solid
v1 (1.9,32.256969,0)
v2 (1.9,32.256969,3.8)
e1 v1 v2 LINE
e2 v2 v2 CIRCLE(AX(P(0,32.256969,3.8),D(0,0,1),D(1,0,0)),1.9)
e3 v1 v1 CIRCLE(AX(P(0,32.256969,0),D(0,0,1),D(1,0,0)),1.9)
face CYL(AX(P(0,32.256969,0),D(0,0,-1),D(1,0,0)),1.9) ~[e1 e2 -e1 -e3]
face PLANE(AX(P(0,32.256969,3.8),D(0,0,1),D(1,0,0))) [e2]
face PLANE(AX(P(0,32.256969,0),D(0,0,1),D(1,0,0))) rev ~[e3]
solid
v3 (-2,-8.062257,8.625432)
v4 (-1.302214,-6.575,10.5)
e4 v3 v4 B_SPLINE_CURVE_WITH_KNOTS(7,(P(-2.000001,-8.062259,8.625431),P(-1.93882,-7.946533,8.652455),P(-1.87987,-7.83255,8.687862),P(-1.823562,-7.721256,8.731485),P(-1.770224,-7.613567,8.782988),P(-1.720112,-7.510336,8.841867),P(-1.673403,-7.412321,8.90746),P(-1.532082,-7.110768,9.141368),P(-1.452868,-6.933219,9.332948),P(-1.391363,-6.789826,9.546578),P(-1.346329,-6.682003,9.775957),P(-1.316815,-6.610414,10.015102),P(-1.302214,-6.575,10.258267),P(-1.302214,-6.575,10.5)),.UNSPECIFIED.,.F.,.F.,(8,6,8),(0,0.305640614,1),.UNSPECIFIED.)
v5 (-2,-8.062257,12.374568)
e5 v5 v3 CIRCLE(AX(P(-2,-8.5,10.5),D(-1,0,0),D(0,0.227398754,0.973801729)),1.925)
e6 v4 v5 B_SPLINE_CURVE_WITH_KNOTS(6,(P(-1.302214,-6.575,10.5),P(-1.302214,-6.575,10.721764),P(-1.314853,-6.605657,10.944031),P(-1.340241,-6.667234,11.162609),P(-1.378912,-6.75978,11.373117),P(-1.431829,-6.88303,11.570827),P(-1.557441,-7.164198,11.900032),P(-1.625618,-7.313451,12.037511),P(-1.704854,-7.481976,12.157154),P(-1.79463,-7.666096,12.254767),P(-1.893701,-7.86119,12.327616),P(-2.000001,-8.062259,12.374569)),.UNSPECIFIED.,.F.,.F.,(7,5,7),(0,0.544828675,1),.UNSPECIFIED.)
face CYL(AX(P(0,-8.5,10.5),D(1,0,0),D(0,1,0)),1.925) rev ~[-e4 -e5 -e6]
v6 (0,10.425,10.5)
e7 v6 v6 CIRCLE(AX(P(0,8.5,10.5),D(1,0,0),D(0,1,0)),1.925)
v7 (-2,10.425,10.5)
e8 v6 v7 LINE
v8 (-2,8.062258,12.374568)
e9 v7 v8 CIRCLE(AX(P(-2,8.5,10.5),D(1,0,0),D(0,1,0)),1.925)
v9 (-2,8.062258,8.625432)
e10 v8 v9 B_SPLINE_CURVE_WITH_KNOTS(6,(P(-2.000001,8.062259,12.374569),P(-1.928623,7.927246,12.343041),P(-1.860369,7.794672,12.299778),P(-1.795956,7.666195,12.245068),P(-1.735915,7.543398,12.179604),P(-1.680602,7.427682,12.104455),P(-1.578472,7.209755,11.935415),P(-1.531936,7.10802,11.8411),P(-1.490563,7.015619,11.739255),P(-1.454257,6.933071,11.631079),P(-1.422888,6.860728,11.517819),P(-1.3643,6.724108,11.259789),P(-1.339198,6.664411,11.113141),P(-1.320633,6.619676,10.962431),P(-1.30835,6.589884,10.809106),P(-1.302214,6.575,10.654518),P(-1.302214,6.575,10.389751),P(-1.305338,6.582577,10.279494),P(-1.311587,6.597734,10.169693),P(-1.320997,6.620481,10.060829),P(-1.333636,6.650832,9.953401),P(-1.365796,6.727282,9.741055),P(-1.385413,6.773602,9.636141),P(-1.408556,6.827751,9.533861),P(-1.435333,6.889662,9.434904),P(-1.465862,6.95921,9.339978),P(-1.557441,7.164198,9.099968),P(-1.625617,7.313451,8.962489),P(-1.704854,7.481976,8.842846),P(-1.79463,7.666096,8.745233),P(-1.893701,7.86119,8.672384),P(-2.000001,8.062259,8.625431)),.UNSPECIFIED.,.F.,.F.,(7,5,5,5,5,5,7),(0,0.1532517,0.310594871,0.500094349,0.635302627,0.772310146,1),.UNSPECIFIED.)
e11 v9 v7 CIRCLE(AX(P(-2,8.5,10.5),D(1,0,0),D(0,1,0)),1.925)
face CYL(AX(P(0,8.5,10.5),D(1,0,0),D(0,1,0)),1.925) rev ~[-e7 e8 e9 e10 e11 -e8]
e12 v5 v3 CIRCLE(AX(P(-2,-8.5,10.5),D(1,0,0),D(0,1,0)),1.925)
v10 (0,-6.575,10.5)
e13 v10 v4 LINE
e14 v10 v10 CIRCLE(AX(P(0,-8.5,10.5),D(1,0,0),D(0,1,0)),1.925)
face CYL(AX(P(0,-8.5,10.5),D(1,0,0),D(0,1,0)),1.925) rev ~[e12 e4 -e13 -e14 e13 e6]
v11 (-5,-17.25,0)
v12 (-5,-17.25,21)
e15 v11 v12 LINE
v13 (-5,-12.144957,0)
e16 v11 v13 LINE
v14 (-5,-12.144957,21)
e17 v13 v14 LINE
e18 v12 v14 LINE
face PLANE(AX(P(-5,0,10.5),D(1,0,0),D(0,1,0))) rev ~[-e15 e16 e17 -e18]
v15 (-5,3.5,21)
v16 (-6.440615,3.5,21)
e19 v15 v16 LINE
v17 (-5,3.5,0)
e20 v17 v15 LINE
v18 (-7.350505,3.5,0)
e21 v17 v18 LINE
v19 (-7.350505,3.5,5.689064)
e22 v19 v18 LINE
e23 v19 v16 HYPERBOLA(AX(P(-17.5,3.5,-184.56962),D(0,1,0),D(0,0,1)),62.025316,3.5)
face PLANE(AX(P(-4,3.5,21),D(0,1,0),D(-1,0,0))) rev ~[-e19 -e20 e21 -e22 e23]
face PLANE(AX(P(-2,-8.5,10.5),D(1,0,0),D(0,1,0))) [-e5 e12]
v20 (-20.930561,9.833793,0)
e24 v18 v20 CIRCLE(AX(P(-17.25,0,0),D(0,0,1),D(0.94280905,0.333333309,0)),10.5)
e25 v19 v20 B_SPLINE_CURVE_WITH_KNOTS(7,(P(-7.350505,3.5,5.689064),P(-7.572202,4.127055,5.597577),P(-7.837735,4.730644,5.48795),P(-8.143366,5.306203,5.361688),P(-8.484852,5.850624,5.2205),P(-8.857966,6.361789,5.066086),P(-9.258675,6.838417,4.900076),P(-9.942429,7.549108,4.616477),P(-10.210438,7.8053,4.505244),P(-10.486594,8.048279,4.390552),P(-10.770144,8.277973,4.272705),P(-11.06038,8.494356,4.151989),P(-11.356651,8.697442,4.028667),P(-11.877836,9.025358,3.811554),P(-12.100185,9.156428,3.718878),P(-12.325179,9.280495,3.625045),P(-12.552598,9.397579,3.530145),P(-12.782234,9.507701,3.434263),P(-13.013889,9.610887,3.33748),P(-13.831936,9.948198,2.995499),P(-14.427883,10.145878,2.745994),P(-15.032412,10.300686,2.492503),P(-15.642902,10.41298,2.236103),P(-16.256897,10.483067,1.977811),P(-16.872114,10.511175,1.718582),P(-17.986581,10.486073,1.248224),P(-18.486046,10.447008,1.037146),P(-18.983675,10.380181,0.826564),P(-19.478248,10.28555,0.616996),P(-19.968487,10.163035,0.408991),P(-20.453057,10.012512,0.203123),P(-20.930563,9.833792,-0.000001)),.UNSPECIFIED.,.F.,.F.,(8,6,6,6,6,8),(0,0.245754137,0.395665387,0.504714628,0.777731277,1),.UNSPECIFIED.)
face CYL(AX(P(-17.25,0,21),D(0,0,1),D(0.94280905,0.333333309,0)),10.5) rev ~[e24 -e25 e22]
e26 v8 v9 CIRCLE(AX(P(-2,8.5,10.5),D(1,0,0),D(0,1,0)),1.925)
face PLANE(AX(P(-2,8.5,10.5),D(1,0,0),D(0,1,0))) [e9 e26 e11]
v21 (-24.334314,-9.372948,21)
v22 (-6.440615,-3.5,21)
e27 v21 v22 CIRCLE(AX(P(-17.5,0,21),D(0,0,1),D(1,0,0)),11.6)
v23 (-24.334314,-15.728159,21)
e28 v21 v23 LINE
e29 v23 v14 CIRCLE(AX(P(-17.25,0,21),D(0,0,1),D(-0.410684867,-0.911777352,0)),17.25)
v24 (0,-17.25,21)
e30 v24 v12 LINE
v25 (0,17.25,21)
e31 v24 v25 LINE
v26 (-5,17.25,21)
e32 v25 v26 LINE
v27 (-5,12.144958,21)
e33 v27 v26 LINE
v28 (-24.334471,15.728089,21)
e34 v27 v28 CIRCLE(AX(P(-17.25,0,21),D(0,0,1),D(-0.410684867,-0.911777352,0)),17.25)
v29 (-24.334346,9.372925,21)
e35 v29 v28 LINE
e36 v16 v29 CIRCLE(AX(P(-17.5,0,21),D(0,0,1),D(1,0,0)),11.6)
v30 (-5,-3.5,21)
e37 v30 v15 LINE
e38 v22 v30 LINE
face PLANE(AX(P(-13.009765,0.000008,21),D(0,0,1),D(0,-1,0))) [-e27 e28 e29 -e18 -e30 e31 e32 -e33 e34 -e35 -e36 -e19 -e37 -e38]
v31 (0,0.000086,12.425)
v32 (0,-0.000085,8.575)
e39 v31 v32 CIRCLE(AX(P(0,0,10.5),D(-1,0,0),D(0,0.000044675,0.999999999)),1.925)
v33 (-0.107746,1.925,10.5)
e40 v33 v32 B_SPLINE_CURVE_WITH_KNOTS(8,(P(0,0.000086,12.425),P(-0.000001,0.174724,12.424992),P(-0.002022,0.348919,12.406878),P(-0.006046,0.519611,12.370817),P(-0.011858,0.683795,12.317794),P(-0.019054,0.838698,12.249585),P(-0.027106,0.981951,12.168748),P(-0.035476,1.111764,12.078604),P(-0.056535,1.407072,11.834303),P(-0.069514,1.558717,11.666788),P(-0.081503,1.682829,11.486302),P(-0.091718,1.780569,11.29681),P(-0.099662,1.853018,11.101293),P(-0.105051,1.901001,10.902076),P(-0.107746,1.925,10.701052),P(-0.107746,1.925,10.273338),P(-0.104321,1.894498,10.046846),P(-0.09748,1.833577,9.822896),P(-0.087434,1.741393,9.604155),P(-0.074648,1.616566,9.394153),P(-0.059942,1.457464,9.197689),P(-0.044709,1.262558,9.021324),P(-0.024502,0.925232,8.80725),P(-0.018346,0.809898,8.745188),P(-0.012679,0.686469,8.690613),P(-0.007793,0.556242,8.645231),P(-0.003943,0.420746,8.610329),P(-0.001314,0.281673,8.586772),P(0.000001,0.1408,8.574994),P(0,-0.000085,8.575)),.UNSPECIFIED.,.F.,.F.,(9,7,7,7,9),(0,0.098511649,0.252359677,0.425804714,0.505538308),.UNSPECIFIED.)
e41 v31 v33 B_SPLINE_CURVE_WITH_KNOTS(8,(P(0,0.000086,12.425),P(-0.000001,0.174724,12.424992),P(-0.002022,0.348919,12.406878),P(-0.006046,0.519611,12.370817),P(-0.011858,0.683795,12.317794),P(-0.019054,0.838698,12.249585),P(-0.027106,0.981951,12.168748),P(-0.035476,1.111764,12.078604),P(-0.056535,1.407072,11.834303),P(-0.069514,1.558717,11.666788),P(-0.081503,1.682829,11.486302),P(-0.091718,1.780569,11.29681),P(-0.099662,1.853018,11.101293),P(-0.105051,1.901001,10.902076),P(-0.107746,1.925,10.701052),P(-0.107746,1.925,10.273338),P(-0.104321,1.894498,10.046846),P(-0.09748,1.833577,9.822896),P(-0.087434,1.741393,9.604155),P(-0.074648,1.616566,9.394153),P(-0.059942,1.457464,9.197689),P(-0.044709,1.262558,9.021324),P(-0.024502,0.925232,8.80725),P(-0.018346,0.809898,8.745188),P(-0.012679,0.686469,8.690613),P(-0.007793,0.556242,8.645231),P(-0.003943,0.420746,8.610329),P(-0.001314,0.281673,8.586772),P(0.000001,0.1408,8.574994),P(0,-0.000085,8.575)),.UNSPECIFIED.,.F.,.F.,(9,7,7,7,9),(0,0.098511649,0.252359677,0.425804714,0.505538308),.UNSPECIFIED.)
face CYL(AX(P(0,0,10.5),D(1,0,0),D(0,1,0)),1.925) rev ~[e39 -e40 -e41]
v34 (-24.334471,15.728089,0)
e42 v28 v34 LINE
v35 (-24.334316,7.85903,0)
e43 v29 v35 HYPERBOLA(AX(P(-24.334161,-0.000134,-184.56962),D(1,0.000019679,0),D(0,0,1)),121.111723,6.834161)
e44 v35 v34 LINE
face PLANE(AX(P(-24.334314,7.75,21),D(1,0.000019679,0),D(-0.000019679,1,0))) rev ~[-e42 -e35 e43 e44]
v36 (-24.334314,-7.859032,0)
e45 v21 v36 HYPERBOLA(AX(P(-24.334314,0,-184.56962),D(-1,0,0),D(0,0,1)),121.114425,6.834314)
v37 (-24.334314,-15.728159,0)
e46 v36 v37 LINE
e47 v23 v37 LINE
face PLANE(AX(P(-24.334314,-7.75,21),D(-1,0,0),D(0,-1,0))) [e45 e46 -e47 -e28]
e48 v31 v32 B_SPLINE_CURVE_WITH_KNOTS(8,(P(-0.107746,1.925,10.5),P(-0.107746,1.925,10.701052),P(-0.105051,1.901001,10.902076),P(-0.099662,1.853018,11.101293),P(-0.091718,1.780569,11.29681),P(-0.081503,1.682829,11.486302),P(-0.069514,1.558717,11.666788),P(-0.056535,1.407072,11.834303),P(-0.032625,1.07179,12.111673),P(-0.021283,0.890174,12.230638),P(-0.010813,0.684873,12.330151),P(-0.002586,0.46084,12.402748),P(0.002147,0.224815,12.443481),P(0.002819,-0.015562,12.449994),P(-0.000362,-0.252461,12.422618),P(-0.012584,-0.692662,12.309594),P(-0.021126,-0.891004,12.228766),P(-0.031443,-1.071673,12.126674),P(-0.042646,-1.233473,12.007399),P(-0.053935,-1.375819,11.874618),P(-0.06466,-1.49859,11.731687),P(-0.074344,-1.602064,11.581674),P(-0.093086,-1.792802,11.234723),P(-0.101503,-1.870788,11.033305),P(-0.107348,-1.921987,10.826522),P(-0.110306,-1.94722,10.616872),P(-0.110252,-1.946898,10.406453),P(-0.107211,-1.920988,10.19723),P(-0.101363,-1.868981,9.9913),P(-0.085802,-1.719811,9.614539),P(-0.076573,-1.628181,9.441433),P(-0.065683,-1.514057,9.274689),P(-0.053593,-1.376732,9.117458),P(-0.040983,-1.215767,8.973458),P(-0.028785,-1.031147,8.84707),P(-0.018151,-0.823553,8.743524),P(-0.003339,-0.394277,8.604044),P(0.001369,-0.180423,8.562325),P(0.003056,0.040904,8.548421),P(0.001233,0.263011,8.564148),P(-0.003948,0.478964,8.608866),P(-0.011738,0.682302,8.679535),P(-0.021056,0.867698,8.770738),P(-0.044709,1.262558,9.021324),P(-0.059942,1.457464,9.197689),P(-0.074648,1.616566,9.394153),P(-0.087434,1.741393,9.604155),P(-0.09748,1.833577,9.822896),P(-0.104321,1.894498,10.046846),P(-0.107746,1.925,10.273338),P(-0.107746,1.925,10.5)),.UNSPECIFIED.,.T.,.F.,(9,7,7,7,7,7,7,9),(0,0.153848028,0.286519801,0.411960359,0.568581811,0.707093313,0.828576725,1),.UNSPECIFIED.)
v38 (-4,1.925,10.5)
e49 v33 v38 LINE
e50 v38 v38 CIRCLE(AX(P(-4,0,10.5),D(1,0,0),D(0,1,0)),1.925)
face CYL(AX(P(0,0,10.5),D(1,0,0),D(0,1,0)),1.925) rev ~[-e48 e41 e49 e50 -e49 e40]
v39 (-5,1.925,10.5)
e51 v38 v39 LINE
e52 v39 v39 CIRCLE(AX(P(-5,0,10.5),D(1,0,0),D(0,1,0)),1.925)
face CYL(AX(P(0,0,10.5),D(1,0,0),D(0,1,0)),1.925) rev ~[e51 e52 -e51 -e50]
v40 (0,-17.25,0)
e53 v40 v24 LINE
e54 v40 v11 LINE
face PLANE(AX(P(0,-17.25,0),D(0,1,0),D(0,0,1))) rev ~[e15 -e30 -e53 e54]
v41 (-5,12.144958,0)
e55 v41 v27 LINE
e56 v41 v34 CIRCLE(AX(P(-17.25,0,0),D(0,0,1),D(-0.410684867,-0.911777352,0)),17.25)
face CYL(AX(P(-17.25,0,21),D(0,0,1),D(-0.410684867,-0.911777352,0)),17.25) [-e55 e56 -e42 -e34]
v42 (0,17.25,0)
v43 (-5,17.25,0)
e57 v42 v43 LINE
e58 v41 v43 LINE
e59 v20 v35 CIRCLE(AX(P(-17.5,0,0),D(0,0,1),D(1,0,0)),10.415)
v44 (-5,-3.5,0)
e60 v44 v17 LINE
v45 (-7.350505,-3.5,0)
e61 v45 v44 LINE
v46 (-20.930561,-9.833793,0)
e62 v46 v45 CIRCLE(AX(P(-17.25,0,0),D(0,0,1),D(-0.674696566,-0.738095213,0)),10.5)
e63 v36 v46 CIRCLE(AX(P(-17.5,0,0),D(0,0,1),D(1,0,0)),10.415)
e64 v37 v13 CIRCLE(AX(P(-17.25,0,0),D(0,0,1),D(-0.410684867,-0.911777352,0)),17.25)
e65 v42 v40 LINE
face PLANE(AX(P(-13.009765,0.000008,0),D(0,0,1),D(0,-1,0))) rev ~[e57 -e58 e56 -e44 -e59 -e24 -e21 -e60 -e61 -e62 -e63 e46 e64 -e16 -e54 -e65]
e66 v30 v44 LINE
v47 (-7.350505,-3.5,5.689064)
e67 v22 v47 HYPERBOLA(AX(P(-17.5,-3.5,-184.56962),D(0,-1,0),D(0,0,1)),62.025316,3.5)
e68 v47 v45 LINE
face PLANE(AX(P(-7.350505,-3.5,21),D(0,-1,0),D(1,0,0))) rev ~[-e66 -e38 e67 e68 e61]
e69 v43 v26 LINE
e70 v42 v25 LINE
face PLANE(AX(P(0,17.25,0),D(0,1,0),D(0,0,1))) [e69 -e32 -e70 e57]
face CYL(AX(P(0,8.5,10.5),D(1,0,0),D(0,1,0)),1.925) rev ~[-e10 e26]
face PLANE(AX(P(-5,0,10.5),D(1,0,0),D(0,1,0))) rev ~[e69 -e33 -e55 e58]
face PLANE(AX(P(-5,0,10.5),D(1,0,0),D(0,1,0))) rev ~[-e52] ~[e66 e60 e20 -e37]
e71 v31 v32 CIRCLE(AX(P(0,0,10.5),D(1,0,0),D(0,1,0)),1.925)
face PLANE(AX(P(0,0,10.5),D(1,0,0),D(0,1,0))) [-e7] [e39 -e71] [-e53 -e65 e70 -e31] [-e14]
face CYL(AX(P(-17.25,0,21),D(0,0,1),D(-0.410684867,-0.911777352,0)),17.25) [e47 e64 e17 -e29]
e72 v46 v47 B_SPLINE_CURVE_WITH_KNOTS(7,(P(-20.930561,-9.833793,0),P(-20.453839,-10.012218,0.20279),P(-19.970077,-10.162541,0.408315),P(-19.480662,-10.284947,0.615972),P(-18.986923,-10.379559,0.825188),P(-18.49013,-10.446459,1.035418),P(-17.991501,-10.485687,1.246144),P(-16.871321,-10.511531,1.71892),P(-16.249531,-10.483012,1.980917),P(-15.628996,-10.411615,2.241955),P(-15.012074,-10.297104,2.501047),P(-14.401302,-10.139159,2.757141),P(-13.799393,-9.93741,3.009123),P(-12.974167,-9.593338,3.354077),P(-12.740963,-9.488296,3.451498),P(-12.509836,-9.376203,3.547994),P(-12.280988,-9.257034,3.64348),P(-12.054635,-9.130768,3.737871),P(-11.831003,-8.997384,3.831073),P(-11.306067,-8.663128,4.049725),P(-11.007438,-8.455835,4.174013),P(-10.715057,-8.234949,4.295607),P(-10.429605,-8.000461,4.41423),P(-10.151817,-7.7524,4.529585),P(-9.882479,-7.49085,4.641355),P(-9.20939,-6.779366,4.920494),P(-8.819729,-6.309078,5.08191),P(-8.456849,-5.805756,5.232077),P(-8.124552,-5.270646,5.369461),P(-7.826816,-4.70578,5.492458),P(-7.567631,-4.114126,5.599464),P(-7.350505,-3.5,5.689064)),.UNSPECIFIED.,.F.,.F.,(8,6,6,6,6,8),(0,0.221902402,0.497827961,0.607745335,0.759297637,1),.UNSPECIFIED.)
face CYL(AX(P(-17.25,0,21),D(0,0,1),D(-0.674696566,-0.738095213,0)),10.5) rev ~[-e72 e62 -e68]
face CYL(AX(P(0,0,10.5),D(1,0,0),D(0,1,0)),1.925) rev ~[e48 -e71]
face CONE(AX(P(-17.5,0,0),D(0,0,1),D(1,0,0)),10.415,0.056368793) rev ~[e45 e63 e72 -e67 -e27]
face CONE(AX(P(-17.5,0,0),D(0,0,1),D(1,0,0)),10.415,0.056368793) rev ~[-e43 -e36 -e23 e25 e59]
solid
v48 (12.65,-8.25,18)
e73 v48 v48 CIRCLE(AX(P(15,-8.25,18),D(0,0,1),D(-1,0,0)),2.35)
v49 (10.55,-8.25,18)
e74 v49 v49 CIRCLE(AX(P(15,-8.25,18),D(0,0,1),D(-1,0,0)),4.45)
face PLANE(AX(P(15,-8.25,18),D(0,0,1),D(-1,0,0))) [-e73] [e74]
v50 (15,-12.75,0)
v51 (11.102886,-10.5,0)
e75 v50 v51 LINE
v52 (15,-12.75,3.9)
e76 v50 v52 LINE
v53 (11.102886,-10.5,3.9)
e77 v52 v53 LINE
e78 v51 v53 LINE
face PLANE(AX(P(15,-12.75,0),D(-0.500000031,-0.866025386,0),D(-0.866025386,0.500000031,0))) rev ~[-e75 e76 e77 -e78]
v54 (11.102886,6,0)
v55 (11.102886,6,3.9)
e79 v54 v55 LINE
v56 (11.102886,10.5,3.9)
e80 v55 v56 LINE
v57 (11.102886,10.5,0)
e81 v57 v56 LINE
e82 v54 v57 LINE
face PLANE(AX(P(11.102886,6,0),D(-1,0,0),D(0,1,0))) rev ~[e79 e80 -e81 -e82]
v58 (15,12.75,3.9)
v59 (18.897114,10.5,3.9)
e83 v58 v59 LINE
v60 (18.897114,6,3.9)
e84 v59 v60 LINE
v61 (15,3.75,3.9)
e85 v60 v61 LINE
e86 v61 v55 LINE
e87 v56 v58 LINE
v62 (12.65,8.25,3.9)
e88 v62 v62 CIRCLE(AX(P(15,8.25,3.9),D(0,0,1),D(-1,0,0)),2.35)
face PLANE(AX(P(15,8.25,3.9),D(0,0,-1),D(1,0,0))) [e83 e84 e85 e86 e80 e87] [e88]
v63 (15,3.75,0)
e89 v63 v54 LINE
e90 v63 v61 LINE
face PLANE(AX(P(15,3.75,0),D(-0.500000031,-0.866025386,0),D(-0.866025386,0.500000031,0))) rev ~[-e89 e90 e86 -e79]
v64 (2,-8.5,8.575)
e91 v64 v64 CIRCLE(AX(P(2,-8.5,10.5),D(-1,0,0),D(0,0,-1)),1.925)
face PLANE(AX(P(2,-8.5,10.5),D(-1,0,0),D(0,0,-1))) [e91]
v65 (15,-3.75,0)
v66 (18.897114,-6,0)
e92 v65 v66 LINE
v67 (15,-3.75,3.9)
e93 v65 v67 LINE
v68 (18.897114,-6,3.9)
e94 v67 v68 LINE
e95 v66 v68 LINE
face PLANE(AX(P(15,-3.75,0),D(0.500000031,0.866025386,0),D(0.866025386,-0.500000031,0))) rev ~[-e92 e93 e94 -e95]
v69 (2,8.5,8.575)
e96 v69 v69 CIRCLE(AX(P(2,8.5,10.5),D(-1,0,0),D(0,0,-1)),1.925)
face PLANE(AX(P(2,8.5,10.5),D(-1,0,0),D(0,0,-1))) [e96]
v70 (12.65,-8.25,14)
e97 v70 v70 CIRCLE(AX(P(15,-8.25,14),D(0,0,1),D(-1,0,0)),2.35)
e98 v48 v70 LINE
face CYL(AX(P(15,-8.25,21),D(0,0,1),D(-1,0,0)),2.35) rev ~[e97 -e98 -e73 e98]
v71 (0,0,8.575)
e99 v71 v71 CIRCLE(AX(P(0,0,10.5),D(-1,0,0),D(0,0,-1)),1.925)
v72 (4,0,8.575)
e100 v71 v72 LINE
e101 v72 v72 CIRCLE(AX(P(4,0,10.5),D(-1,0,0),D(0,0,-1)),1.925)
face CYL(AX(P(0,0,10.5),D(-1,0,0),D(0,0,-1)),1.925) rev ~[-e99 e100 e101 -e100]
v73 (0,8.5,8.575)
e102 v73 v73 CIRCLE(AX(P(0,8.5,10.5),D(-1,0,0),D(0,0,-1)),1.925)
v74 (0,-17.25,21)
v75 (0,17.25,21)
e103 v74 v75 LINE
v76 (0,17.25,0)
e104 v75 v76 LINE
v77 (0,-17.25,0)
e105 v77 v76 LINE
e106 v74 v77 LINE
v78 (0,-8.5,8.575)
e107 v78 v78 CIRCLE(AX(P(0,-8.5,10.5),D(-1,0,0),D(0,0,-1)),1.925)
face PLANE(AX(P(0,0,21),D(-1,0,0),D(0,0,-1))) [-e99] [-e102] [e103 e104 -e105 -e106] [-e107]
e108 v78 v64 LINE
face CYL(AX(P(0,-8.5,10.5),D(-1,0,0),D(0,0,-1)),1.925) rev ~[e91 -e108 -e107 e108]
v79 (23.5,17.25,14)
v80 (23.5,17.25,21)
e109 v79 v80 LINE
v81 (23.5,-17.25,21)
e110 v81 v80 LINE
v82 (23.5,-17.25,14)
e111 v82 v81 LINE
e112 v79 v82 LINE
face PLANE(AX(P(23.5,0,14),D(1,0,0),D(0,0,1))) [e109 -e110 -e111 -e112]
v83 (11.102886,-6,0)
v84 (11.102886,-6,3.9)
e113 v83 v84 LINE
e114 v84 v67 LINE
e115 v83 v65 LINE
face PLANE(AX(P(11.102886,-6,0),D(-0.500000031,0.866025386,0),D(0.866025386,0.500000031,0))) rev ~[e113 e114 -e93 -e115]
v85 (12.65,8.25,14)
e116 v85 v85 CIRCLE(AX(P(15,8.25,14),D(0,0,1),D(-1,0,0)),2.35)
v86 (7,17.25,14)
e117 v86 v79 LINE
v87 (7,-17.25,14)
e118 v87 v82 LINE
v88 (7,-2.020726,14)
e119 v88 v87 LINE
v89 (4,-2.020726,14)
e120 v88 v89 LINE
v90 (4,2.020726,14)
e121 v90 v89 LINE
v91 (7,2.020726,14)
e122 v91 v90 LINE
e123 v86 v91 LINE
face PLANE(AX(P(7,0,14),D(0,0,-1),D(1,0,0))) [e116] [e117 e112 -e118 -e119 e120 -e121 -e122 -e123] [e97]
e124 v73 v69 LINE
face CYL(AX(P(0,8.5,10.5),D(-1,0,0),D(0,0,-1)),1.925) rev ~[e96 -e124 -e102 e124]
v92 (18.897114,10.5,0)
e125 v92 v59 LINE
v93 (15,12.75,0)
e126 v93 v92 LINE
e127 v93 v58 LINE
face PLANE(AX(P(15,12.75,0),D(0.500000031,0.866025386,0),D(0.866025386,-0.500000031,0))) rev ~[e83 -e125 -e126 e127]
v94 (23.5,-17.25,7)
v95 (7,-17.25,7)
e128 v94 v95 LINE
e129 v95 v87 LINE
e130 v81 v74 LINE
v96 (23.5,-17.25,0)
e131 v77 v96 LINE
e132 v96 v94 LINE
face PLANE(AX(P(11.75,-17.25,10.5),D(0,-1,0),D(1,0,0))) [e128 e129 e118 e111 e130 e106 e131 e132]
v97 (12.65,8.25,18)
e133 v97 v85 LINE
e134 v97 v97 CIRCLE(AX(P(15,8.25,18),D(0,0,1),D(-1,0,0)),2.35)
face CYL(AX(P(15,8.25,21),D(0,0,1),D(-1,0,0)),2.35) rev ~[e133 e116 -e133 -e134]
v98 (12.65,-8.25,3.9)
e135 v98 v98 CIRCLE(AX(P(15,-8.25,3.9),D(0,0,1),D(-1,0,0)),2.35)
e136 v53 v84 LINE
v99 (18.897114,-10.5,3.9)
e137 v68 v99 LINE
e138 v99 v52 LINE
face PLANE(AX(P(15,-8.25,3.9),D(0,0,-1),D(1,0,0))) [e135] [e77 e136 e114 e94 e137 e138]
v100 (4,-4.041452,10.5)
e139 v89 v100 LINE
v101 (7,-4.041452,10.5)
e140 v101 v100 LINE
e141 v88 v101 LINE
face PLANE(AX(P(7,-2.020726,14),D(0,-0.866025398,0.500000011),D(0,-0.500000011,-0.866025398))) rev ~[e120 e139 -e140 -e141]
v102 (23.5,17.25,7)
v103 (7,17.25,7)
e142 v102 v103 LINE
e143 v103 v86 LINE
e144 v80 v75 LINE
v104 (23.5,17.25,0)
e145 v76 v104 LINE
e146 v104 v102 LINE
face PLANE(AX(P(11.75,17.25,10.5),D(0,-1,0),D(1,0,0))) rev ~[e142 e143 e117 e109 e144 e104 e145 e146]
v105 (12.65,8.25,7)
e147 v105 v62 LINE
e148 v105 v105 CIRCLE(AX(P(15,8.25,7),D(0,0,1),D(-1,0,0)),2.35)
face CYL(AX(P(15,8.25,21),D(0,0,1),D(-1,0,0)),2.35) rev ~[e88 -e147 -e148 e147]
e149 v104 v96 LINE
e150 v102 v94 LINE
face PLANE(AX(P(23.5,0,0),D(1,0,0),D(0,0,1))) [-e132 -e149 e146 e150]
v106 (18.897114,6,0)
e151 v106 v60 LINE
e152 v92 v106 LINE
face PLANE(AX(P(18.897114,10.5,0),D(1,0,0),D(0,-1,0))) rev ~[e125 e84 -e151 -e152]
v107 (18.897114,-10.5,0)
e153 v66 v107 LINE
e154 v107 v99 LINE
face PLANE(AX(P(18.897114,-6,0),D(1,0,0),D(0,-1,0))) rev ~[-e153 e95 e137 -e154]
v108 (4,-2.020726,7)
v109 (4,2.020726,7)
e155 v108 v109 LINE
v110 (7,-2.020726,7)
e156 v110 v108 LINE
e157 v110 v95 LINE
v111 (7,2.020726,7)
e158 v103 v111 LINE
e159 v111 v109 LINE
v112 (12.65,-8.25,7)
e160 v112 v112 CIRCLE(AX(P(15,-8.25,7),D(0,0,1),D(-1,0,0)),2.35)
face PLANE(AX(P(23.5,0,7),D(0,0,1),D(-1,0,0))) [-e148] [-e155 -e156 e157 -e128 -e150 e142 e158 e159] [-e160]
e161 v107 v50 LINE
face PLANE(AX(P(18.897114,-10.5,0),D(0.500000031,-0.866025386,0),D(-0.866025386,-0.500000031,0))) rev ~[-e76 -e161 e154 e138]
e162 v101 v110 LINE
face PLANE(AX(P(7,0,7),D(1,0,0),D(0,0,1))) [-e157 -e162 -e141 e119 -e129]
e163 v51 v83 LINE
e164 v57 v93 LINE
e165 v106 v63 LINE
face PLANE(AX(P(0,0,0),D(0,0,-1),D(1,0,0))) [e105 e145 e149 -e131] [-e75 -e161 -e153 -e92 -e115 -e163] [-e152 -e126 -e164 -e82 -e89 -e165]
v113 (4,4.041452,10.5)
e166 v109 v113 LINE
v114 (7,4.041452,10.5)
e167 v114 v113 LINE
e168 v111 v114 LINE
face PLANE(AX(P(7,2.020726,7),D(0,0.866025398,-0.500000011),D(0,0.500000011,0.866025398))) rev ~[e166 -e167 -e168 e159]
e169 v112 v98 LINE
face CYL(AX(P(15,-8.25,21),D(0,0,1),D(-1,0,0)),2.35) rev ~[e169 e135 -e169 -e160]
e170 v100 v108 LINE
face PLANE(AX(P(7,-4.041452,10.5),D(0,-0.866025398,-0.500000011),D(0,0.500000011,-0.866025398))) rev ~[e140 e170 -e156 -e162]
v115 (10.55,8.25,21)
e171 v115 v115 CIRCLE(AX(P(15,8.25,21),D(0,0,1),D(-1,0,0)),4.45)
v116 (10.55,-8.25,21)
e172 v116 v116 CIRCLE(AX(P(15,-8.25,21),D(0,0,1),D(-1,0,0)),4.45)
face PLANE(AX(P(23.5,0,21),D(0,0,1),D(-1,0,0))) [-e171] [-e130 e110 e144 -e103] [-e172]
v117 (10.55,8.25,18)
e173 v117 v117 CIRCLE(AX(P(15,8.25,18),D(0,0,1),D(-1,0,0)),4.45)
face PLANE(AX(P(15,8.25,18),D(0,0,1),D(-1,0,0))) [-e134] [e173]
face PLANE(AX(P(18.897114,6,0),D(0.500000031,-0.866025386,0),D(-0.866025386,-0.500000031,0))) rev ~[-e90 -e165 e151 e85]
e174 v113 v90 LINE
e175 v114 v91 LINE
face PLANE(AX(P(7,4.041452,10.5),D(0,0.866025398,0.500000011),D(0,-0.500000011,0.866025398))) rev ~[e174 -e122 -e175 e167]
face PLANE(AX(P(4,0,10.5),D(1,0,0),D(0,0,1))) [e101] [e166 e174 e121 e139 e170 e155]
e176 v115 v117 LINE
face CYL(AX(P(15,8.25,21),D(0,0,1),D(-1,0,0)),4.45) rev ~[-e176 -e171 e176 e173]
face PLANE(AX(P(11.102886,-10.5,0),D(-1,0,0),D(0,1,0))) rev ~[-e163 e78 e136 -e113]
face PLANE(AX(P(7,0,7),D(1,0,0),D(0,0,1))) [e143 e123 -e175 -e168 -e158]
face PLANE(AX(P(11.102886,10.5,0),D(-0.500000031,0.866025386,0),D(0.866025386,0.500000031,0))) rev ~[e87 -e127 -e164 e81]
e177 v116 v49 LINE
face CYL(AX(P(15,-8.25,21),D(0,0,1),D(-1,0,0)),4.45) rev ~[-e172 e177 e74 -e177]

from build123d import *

# Parameters (mm, degrees)
PAD_DEPTH       = 17.25
SKETCH001_R     = 2.35
POCKET_DEPTH    = 21.001
POCKET001_DEPTH = 3.9
SKETCH003_R     = 4.45
POCKET002_DEPTH = 3
SKETCH004_R     = 1.925
POCKET003_DEPTH = 23.501
POCKET004_DEPTH = 3
SKETCH006_R     = 1.925
POCKET005_DEPTH = 2
SKETCH012_R     = 1.9
PAD003_DEPTH    = 3.8
SKETCH007_W     = 34.5
SKETCH007_H     = 21
SKETCH007_R     = 1.925
PAD001_DEPTH    = 5
SKETCH008_R     = 1.925
POCKET006_DEPTH = 2
PAD002_DEPTH    = 21
SKETCH010_R     = 1.925
POCKET007_DEPTH = 2
SKETCH011_R     = 1.925
POCKET008_DEPTH = 24.335471


with BuildPart() as soporte_ducha_estanteria:
    # Sketch → Pad (new body, symmetric)
    with BuildSketch(Plane.XZ):
        Polygon((0, 0), (23.5, 0), (23.5, 7), (7, 7), (7, 14), (23.5, 14), (23.5, 21), (0, 21), align=None)
    extrude(amount=PAD_DEPTH, both=True)

    # Sketch001 → Pocket (cut, through all)
    with BuildSketch(Plane(origin=(0, 0, 21), x_dir=(-1, 0, 0), z_dir=(0, 0, 1))):
        with Locations((-15, 8.25)):
            Circle(SKETCH001_R)
        with Locations((-15, -8.25)):
            Circle(SKETCH001_R)
    extrude(amount=-POCKET_DEPTH, mode=Mode.SUBTRACT)

    # Sketch002 → Pocket001 (cut)
    with BuildSketch(Plane(origin=(0, 0, 0), x_dir=(1, 0, 0), z_dir=(0, 0, -1))):
        Polygon((15, 12.75), (11.102886, 10.5), (11.102886, 6), (15, 3.75), (18.897114, 6), (18.897114, 10.5), align=None)
        Polygon((15, -3.75), (11.102886, -6), (11.102886, -10.5), (15, -12.75), (18.897114, -10.5), (18.897114, -6), align=None)
    extrude(amount=-POCKET001_DEPTH, mode=Mode.SUBTRACT)

    # Sketch003 → Pocket002 (cut)
    with BuildSketch(Plane(origin=(0, 0, 21), x_dir=(-1, 0, 0), z_dir=(0, 0, 1))):
        with Locations((-15, 8.25)):
            Circle(SKETCH003_R)
        with Locations((-15, -8.25)):
            Circle(SKETCH003_R)
    extrude(amount=-POCKET002_DEPTH, mode=Mode.SUBTRACT)

    # Sketch004 → Pocket003 (cut, through all)
    with BuildSketch(Plane(origin=(0, 0, 0), x_dir=(0, 0, -1), z_dir=(-1, 0, 0))):
        with Locations((-10.5, 0)):
            Circle(SKETCH004_R)
    extrude(amount=-POCKET003_DEPTH, mode=Mode.SUBTRACT)

    # Sketch005 → Pocket004 (cut)
    with BuildSketch(Plane(origin=(7, 0, 0), x_dir=(0, 0, 1), z_dir=(1, 0, 0))):
        Polygon((7, 2.020726), (7, -2.020726), (10.5, -4.041452), (14, -2.020726), (14, 2.020726), (10.5, 4.041452), align=None)
    extrude(amount=-POCKET004_DEPTH, mode=Mode.SUBTRACT)

    # Sketch006 → Pocket005 (cut)
    with BuildSketch(Plane(origin=(0, 0, 0), x_dir=(0, 0, -1), z_dir=(-1, 0, 0))):
        with Locations((-10.5, -8.5)):
            Circle(SKETCH006_R)
        with Locations((-10.5, 8.5)):
            Circle(SKETCH006_R)
    extrude(amount=-POCKET005_DEPTH, mode=Mode.SUBTRACT)


with BuildPart() as pernos_union:
    # Sketch012 → Pad003 (new body)
    with BuildSketch(Plane(origin=(0, -10, 0), x_dir=(1, 0, 0), z_dir=(0, 0, 1))):
        with Locations((0, 42.256969)):
            Circle(SKETCH012_R)
    extrude(amount=PAD003_DEPTH)


with BuildPart() as cono:
    # Cone → Cone (revolve)
    with BuildSketch(Plane(origin=(-17.5, 0, 0), x_dir=(1, 0, 0), z_dir=(0, -1, 0))):
        Polygon((0, 0), (10.415, 0), (11.6, 21), (0, 21), align=None)
    revolve(axis=Axis((-17.5, 0, 0), (0, 0, 1)))


with BuildPart() as soporte_ducha_telefono_cono:
    # Sketch007 → Pad001 (new body)
    with BuildSketch(Plane.YZ):
        with Locations((0, 10.5)):
            Rectangle(SKETCH007_W, SKETCH007_H)
        with Locations((0, 10.5)):
            Circle(SKETCH007_R, mode=Mode.SUBTRACT)
    extrude(amount=-PAD001_DEPTH)

    # Sketch008 → Pocket006 (cut)
    with BuildSketch(Plane.YZ):
        with Locations((-8.5, 10.5)):
            Circle(SKETCH008_R)
        with Locations((8.5, 10.5)):
            Circle(SKETCH008_R)
    extrude(amount=-POCKET006_DEPTH, mode=Mode.SUBTRACT)

    # Sketch009 → Pad002 (new body)
    with BuildSketch(Plane(origin=(0, 0, 21), x_dir=(0, -1, 0), z_dir=(0, 0, 1))):
        with BuildLine():
            ThreePointArc((15.728159, -24.334314), (-8.6e-05, 0), (-15.728089, -24.334471))
            Line((-7.75, -24.334314), (-15.728089, -24.334471))
            ThreePointArc((-3.5, -7.350505), (-10.185925, -14.701091), (-7.75, -24.334314))
            Line((-3.5, -4), (-3.5, -7.350505))
            Line((3.5, -4), (-3.5, -4))
            Line((3.5, -7.350505), (3.5, -4))
            ThreePointArc((7.75, -24.334314), (10.185925, -14.701091), (3.5, -7.350505))
            Line((7.75, -24.334314), (15.728159, -24.334314))
        make_face()
    extrude(amount=-PAD002_DEPTH)

    # Sketch010 → Pocket007 (cut)
    with BuildSketch(Plane.YZ):
        with Locations((-8.5, 10.5)):
            Circle(SKETCH010_R)
        with Locations((8.5, 10.5)):
            Circle(SKETCH010_R)
    extrude(amount=-POCKET007_DEPTH, mode=Mode.SUBTRACT)

    # Sketch011 → Pocket008 (cut, through all)
    with BuildSketch(Plane.YZ):
        with Locations((0, 10.5)):
            Circle(SKETCH011_R)
    extrude(amount=-POCKET008_DEPTH, mode=Mode.SUBTRACT)

    # Cut: cut Cono
    add(cono.part, mode=Mode.SUBTRACT)


solid = Compound([soporte_ducha_estanteria.part, pernos_union.part, soporte_ducha_telefono_cono.part])
